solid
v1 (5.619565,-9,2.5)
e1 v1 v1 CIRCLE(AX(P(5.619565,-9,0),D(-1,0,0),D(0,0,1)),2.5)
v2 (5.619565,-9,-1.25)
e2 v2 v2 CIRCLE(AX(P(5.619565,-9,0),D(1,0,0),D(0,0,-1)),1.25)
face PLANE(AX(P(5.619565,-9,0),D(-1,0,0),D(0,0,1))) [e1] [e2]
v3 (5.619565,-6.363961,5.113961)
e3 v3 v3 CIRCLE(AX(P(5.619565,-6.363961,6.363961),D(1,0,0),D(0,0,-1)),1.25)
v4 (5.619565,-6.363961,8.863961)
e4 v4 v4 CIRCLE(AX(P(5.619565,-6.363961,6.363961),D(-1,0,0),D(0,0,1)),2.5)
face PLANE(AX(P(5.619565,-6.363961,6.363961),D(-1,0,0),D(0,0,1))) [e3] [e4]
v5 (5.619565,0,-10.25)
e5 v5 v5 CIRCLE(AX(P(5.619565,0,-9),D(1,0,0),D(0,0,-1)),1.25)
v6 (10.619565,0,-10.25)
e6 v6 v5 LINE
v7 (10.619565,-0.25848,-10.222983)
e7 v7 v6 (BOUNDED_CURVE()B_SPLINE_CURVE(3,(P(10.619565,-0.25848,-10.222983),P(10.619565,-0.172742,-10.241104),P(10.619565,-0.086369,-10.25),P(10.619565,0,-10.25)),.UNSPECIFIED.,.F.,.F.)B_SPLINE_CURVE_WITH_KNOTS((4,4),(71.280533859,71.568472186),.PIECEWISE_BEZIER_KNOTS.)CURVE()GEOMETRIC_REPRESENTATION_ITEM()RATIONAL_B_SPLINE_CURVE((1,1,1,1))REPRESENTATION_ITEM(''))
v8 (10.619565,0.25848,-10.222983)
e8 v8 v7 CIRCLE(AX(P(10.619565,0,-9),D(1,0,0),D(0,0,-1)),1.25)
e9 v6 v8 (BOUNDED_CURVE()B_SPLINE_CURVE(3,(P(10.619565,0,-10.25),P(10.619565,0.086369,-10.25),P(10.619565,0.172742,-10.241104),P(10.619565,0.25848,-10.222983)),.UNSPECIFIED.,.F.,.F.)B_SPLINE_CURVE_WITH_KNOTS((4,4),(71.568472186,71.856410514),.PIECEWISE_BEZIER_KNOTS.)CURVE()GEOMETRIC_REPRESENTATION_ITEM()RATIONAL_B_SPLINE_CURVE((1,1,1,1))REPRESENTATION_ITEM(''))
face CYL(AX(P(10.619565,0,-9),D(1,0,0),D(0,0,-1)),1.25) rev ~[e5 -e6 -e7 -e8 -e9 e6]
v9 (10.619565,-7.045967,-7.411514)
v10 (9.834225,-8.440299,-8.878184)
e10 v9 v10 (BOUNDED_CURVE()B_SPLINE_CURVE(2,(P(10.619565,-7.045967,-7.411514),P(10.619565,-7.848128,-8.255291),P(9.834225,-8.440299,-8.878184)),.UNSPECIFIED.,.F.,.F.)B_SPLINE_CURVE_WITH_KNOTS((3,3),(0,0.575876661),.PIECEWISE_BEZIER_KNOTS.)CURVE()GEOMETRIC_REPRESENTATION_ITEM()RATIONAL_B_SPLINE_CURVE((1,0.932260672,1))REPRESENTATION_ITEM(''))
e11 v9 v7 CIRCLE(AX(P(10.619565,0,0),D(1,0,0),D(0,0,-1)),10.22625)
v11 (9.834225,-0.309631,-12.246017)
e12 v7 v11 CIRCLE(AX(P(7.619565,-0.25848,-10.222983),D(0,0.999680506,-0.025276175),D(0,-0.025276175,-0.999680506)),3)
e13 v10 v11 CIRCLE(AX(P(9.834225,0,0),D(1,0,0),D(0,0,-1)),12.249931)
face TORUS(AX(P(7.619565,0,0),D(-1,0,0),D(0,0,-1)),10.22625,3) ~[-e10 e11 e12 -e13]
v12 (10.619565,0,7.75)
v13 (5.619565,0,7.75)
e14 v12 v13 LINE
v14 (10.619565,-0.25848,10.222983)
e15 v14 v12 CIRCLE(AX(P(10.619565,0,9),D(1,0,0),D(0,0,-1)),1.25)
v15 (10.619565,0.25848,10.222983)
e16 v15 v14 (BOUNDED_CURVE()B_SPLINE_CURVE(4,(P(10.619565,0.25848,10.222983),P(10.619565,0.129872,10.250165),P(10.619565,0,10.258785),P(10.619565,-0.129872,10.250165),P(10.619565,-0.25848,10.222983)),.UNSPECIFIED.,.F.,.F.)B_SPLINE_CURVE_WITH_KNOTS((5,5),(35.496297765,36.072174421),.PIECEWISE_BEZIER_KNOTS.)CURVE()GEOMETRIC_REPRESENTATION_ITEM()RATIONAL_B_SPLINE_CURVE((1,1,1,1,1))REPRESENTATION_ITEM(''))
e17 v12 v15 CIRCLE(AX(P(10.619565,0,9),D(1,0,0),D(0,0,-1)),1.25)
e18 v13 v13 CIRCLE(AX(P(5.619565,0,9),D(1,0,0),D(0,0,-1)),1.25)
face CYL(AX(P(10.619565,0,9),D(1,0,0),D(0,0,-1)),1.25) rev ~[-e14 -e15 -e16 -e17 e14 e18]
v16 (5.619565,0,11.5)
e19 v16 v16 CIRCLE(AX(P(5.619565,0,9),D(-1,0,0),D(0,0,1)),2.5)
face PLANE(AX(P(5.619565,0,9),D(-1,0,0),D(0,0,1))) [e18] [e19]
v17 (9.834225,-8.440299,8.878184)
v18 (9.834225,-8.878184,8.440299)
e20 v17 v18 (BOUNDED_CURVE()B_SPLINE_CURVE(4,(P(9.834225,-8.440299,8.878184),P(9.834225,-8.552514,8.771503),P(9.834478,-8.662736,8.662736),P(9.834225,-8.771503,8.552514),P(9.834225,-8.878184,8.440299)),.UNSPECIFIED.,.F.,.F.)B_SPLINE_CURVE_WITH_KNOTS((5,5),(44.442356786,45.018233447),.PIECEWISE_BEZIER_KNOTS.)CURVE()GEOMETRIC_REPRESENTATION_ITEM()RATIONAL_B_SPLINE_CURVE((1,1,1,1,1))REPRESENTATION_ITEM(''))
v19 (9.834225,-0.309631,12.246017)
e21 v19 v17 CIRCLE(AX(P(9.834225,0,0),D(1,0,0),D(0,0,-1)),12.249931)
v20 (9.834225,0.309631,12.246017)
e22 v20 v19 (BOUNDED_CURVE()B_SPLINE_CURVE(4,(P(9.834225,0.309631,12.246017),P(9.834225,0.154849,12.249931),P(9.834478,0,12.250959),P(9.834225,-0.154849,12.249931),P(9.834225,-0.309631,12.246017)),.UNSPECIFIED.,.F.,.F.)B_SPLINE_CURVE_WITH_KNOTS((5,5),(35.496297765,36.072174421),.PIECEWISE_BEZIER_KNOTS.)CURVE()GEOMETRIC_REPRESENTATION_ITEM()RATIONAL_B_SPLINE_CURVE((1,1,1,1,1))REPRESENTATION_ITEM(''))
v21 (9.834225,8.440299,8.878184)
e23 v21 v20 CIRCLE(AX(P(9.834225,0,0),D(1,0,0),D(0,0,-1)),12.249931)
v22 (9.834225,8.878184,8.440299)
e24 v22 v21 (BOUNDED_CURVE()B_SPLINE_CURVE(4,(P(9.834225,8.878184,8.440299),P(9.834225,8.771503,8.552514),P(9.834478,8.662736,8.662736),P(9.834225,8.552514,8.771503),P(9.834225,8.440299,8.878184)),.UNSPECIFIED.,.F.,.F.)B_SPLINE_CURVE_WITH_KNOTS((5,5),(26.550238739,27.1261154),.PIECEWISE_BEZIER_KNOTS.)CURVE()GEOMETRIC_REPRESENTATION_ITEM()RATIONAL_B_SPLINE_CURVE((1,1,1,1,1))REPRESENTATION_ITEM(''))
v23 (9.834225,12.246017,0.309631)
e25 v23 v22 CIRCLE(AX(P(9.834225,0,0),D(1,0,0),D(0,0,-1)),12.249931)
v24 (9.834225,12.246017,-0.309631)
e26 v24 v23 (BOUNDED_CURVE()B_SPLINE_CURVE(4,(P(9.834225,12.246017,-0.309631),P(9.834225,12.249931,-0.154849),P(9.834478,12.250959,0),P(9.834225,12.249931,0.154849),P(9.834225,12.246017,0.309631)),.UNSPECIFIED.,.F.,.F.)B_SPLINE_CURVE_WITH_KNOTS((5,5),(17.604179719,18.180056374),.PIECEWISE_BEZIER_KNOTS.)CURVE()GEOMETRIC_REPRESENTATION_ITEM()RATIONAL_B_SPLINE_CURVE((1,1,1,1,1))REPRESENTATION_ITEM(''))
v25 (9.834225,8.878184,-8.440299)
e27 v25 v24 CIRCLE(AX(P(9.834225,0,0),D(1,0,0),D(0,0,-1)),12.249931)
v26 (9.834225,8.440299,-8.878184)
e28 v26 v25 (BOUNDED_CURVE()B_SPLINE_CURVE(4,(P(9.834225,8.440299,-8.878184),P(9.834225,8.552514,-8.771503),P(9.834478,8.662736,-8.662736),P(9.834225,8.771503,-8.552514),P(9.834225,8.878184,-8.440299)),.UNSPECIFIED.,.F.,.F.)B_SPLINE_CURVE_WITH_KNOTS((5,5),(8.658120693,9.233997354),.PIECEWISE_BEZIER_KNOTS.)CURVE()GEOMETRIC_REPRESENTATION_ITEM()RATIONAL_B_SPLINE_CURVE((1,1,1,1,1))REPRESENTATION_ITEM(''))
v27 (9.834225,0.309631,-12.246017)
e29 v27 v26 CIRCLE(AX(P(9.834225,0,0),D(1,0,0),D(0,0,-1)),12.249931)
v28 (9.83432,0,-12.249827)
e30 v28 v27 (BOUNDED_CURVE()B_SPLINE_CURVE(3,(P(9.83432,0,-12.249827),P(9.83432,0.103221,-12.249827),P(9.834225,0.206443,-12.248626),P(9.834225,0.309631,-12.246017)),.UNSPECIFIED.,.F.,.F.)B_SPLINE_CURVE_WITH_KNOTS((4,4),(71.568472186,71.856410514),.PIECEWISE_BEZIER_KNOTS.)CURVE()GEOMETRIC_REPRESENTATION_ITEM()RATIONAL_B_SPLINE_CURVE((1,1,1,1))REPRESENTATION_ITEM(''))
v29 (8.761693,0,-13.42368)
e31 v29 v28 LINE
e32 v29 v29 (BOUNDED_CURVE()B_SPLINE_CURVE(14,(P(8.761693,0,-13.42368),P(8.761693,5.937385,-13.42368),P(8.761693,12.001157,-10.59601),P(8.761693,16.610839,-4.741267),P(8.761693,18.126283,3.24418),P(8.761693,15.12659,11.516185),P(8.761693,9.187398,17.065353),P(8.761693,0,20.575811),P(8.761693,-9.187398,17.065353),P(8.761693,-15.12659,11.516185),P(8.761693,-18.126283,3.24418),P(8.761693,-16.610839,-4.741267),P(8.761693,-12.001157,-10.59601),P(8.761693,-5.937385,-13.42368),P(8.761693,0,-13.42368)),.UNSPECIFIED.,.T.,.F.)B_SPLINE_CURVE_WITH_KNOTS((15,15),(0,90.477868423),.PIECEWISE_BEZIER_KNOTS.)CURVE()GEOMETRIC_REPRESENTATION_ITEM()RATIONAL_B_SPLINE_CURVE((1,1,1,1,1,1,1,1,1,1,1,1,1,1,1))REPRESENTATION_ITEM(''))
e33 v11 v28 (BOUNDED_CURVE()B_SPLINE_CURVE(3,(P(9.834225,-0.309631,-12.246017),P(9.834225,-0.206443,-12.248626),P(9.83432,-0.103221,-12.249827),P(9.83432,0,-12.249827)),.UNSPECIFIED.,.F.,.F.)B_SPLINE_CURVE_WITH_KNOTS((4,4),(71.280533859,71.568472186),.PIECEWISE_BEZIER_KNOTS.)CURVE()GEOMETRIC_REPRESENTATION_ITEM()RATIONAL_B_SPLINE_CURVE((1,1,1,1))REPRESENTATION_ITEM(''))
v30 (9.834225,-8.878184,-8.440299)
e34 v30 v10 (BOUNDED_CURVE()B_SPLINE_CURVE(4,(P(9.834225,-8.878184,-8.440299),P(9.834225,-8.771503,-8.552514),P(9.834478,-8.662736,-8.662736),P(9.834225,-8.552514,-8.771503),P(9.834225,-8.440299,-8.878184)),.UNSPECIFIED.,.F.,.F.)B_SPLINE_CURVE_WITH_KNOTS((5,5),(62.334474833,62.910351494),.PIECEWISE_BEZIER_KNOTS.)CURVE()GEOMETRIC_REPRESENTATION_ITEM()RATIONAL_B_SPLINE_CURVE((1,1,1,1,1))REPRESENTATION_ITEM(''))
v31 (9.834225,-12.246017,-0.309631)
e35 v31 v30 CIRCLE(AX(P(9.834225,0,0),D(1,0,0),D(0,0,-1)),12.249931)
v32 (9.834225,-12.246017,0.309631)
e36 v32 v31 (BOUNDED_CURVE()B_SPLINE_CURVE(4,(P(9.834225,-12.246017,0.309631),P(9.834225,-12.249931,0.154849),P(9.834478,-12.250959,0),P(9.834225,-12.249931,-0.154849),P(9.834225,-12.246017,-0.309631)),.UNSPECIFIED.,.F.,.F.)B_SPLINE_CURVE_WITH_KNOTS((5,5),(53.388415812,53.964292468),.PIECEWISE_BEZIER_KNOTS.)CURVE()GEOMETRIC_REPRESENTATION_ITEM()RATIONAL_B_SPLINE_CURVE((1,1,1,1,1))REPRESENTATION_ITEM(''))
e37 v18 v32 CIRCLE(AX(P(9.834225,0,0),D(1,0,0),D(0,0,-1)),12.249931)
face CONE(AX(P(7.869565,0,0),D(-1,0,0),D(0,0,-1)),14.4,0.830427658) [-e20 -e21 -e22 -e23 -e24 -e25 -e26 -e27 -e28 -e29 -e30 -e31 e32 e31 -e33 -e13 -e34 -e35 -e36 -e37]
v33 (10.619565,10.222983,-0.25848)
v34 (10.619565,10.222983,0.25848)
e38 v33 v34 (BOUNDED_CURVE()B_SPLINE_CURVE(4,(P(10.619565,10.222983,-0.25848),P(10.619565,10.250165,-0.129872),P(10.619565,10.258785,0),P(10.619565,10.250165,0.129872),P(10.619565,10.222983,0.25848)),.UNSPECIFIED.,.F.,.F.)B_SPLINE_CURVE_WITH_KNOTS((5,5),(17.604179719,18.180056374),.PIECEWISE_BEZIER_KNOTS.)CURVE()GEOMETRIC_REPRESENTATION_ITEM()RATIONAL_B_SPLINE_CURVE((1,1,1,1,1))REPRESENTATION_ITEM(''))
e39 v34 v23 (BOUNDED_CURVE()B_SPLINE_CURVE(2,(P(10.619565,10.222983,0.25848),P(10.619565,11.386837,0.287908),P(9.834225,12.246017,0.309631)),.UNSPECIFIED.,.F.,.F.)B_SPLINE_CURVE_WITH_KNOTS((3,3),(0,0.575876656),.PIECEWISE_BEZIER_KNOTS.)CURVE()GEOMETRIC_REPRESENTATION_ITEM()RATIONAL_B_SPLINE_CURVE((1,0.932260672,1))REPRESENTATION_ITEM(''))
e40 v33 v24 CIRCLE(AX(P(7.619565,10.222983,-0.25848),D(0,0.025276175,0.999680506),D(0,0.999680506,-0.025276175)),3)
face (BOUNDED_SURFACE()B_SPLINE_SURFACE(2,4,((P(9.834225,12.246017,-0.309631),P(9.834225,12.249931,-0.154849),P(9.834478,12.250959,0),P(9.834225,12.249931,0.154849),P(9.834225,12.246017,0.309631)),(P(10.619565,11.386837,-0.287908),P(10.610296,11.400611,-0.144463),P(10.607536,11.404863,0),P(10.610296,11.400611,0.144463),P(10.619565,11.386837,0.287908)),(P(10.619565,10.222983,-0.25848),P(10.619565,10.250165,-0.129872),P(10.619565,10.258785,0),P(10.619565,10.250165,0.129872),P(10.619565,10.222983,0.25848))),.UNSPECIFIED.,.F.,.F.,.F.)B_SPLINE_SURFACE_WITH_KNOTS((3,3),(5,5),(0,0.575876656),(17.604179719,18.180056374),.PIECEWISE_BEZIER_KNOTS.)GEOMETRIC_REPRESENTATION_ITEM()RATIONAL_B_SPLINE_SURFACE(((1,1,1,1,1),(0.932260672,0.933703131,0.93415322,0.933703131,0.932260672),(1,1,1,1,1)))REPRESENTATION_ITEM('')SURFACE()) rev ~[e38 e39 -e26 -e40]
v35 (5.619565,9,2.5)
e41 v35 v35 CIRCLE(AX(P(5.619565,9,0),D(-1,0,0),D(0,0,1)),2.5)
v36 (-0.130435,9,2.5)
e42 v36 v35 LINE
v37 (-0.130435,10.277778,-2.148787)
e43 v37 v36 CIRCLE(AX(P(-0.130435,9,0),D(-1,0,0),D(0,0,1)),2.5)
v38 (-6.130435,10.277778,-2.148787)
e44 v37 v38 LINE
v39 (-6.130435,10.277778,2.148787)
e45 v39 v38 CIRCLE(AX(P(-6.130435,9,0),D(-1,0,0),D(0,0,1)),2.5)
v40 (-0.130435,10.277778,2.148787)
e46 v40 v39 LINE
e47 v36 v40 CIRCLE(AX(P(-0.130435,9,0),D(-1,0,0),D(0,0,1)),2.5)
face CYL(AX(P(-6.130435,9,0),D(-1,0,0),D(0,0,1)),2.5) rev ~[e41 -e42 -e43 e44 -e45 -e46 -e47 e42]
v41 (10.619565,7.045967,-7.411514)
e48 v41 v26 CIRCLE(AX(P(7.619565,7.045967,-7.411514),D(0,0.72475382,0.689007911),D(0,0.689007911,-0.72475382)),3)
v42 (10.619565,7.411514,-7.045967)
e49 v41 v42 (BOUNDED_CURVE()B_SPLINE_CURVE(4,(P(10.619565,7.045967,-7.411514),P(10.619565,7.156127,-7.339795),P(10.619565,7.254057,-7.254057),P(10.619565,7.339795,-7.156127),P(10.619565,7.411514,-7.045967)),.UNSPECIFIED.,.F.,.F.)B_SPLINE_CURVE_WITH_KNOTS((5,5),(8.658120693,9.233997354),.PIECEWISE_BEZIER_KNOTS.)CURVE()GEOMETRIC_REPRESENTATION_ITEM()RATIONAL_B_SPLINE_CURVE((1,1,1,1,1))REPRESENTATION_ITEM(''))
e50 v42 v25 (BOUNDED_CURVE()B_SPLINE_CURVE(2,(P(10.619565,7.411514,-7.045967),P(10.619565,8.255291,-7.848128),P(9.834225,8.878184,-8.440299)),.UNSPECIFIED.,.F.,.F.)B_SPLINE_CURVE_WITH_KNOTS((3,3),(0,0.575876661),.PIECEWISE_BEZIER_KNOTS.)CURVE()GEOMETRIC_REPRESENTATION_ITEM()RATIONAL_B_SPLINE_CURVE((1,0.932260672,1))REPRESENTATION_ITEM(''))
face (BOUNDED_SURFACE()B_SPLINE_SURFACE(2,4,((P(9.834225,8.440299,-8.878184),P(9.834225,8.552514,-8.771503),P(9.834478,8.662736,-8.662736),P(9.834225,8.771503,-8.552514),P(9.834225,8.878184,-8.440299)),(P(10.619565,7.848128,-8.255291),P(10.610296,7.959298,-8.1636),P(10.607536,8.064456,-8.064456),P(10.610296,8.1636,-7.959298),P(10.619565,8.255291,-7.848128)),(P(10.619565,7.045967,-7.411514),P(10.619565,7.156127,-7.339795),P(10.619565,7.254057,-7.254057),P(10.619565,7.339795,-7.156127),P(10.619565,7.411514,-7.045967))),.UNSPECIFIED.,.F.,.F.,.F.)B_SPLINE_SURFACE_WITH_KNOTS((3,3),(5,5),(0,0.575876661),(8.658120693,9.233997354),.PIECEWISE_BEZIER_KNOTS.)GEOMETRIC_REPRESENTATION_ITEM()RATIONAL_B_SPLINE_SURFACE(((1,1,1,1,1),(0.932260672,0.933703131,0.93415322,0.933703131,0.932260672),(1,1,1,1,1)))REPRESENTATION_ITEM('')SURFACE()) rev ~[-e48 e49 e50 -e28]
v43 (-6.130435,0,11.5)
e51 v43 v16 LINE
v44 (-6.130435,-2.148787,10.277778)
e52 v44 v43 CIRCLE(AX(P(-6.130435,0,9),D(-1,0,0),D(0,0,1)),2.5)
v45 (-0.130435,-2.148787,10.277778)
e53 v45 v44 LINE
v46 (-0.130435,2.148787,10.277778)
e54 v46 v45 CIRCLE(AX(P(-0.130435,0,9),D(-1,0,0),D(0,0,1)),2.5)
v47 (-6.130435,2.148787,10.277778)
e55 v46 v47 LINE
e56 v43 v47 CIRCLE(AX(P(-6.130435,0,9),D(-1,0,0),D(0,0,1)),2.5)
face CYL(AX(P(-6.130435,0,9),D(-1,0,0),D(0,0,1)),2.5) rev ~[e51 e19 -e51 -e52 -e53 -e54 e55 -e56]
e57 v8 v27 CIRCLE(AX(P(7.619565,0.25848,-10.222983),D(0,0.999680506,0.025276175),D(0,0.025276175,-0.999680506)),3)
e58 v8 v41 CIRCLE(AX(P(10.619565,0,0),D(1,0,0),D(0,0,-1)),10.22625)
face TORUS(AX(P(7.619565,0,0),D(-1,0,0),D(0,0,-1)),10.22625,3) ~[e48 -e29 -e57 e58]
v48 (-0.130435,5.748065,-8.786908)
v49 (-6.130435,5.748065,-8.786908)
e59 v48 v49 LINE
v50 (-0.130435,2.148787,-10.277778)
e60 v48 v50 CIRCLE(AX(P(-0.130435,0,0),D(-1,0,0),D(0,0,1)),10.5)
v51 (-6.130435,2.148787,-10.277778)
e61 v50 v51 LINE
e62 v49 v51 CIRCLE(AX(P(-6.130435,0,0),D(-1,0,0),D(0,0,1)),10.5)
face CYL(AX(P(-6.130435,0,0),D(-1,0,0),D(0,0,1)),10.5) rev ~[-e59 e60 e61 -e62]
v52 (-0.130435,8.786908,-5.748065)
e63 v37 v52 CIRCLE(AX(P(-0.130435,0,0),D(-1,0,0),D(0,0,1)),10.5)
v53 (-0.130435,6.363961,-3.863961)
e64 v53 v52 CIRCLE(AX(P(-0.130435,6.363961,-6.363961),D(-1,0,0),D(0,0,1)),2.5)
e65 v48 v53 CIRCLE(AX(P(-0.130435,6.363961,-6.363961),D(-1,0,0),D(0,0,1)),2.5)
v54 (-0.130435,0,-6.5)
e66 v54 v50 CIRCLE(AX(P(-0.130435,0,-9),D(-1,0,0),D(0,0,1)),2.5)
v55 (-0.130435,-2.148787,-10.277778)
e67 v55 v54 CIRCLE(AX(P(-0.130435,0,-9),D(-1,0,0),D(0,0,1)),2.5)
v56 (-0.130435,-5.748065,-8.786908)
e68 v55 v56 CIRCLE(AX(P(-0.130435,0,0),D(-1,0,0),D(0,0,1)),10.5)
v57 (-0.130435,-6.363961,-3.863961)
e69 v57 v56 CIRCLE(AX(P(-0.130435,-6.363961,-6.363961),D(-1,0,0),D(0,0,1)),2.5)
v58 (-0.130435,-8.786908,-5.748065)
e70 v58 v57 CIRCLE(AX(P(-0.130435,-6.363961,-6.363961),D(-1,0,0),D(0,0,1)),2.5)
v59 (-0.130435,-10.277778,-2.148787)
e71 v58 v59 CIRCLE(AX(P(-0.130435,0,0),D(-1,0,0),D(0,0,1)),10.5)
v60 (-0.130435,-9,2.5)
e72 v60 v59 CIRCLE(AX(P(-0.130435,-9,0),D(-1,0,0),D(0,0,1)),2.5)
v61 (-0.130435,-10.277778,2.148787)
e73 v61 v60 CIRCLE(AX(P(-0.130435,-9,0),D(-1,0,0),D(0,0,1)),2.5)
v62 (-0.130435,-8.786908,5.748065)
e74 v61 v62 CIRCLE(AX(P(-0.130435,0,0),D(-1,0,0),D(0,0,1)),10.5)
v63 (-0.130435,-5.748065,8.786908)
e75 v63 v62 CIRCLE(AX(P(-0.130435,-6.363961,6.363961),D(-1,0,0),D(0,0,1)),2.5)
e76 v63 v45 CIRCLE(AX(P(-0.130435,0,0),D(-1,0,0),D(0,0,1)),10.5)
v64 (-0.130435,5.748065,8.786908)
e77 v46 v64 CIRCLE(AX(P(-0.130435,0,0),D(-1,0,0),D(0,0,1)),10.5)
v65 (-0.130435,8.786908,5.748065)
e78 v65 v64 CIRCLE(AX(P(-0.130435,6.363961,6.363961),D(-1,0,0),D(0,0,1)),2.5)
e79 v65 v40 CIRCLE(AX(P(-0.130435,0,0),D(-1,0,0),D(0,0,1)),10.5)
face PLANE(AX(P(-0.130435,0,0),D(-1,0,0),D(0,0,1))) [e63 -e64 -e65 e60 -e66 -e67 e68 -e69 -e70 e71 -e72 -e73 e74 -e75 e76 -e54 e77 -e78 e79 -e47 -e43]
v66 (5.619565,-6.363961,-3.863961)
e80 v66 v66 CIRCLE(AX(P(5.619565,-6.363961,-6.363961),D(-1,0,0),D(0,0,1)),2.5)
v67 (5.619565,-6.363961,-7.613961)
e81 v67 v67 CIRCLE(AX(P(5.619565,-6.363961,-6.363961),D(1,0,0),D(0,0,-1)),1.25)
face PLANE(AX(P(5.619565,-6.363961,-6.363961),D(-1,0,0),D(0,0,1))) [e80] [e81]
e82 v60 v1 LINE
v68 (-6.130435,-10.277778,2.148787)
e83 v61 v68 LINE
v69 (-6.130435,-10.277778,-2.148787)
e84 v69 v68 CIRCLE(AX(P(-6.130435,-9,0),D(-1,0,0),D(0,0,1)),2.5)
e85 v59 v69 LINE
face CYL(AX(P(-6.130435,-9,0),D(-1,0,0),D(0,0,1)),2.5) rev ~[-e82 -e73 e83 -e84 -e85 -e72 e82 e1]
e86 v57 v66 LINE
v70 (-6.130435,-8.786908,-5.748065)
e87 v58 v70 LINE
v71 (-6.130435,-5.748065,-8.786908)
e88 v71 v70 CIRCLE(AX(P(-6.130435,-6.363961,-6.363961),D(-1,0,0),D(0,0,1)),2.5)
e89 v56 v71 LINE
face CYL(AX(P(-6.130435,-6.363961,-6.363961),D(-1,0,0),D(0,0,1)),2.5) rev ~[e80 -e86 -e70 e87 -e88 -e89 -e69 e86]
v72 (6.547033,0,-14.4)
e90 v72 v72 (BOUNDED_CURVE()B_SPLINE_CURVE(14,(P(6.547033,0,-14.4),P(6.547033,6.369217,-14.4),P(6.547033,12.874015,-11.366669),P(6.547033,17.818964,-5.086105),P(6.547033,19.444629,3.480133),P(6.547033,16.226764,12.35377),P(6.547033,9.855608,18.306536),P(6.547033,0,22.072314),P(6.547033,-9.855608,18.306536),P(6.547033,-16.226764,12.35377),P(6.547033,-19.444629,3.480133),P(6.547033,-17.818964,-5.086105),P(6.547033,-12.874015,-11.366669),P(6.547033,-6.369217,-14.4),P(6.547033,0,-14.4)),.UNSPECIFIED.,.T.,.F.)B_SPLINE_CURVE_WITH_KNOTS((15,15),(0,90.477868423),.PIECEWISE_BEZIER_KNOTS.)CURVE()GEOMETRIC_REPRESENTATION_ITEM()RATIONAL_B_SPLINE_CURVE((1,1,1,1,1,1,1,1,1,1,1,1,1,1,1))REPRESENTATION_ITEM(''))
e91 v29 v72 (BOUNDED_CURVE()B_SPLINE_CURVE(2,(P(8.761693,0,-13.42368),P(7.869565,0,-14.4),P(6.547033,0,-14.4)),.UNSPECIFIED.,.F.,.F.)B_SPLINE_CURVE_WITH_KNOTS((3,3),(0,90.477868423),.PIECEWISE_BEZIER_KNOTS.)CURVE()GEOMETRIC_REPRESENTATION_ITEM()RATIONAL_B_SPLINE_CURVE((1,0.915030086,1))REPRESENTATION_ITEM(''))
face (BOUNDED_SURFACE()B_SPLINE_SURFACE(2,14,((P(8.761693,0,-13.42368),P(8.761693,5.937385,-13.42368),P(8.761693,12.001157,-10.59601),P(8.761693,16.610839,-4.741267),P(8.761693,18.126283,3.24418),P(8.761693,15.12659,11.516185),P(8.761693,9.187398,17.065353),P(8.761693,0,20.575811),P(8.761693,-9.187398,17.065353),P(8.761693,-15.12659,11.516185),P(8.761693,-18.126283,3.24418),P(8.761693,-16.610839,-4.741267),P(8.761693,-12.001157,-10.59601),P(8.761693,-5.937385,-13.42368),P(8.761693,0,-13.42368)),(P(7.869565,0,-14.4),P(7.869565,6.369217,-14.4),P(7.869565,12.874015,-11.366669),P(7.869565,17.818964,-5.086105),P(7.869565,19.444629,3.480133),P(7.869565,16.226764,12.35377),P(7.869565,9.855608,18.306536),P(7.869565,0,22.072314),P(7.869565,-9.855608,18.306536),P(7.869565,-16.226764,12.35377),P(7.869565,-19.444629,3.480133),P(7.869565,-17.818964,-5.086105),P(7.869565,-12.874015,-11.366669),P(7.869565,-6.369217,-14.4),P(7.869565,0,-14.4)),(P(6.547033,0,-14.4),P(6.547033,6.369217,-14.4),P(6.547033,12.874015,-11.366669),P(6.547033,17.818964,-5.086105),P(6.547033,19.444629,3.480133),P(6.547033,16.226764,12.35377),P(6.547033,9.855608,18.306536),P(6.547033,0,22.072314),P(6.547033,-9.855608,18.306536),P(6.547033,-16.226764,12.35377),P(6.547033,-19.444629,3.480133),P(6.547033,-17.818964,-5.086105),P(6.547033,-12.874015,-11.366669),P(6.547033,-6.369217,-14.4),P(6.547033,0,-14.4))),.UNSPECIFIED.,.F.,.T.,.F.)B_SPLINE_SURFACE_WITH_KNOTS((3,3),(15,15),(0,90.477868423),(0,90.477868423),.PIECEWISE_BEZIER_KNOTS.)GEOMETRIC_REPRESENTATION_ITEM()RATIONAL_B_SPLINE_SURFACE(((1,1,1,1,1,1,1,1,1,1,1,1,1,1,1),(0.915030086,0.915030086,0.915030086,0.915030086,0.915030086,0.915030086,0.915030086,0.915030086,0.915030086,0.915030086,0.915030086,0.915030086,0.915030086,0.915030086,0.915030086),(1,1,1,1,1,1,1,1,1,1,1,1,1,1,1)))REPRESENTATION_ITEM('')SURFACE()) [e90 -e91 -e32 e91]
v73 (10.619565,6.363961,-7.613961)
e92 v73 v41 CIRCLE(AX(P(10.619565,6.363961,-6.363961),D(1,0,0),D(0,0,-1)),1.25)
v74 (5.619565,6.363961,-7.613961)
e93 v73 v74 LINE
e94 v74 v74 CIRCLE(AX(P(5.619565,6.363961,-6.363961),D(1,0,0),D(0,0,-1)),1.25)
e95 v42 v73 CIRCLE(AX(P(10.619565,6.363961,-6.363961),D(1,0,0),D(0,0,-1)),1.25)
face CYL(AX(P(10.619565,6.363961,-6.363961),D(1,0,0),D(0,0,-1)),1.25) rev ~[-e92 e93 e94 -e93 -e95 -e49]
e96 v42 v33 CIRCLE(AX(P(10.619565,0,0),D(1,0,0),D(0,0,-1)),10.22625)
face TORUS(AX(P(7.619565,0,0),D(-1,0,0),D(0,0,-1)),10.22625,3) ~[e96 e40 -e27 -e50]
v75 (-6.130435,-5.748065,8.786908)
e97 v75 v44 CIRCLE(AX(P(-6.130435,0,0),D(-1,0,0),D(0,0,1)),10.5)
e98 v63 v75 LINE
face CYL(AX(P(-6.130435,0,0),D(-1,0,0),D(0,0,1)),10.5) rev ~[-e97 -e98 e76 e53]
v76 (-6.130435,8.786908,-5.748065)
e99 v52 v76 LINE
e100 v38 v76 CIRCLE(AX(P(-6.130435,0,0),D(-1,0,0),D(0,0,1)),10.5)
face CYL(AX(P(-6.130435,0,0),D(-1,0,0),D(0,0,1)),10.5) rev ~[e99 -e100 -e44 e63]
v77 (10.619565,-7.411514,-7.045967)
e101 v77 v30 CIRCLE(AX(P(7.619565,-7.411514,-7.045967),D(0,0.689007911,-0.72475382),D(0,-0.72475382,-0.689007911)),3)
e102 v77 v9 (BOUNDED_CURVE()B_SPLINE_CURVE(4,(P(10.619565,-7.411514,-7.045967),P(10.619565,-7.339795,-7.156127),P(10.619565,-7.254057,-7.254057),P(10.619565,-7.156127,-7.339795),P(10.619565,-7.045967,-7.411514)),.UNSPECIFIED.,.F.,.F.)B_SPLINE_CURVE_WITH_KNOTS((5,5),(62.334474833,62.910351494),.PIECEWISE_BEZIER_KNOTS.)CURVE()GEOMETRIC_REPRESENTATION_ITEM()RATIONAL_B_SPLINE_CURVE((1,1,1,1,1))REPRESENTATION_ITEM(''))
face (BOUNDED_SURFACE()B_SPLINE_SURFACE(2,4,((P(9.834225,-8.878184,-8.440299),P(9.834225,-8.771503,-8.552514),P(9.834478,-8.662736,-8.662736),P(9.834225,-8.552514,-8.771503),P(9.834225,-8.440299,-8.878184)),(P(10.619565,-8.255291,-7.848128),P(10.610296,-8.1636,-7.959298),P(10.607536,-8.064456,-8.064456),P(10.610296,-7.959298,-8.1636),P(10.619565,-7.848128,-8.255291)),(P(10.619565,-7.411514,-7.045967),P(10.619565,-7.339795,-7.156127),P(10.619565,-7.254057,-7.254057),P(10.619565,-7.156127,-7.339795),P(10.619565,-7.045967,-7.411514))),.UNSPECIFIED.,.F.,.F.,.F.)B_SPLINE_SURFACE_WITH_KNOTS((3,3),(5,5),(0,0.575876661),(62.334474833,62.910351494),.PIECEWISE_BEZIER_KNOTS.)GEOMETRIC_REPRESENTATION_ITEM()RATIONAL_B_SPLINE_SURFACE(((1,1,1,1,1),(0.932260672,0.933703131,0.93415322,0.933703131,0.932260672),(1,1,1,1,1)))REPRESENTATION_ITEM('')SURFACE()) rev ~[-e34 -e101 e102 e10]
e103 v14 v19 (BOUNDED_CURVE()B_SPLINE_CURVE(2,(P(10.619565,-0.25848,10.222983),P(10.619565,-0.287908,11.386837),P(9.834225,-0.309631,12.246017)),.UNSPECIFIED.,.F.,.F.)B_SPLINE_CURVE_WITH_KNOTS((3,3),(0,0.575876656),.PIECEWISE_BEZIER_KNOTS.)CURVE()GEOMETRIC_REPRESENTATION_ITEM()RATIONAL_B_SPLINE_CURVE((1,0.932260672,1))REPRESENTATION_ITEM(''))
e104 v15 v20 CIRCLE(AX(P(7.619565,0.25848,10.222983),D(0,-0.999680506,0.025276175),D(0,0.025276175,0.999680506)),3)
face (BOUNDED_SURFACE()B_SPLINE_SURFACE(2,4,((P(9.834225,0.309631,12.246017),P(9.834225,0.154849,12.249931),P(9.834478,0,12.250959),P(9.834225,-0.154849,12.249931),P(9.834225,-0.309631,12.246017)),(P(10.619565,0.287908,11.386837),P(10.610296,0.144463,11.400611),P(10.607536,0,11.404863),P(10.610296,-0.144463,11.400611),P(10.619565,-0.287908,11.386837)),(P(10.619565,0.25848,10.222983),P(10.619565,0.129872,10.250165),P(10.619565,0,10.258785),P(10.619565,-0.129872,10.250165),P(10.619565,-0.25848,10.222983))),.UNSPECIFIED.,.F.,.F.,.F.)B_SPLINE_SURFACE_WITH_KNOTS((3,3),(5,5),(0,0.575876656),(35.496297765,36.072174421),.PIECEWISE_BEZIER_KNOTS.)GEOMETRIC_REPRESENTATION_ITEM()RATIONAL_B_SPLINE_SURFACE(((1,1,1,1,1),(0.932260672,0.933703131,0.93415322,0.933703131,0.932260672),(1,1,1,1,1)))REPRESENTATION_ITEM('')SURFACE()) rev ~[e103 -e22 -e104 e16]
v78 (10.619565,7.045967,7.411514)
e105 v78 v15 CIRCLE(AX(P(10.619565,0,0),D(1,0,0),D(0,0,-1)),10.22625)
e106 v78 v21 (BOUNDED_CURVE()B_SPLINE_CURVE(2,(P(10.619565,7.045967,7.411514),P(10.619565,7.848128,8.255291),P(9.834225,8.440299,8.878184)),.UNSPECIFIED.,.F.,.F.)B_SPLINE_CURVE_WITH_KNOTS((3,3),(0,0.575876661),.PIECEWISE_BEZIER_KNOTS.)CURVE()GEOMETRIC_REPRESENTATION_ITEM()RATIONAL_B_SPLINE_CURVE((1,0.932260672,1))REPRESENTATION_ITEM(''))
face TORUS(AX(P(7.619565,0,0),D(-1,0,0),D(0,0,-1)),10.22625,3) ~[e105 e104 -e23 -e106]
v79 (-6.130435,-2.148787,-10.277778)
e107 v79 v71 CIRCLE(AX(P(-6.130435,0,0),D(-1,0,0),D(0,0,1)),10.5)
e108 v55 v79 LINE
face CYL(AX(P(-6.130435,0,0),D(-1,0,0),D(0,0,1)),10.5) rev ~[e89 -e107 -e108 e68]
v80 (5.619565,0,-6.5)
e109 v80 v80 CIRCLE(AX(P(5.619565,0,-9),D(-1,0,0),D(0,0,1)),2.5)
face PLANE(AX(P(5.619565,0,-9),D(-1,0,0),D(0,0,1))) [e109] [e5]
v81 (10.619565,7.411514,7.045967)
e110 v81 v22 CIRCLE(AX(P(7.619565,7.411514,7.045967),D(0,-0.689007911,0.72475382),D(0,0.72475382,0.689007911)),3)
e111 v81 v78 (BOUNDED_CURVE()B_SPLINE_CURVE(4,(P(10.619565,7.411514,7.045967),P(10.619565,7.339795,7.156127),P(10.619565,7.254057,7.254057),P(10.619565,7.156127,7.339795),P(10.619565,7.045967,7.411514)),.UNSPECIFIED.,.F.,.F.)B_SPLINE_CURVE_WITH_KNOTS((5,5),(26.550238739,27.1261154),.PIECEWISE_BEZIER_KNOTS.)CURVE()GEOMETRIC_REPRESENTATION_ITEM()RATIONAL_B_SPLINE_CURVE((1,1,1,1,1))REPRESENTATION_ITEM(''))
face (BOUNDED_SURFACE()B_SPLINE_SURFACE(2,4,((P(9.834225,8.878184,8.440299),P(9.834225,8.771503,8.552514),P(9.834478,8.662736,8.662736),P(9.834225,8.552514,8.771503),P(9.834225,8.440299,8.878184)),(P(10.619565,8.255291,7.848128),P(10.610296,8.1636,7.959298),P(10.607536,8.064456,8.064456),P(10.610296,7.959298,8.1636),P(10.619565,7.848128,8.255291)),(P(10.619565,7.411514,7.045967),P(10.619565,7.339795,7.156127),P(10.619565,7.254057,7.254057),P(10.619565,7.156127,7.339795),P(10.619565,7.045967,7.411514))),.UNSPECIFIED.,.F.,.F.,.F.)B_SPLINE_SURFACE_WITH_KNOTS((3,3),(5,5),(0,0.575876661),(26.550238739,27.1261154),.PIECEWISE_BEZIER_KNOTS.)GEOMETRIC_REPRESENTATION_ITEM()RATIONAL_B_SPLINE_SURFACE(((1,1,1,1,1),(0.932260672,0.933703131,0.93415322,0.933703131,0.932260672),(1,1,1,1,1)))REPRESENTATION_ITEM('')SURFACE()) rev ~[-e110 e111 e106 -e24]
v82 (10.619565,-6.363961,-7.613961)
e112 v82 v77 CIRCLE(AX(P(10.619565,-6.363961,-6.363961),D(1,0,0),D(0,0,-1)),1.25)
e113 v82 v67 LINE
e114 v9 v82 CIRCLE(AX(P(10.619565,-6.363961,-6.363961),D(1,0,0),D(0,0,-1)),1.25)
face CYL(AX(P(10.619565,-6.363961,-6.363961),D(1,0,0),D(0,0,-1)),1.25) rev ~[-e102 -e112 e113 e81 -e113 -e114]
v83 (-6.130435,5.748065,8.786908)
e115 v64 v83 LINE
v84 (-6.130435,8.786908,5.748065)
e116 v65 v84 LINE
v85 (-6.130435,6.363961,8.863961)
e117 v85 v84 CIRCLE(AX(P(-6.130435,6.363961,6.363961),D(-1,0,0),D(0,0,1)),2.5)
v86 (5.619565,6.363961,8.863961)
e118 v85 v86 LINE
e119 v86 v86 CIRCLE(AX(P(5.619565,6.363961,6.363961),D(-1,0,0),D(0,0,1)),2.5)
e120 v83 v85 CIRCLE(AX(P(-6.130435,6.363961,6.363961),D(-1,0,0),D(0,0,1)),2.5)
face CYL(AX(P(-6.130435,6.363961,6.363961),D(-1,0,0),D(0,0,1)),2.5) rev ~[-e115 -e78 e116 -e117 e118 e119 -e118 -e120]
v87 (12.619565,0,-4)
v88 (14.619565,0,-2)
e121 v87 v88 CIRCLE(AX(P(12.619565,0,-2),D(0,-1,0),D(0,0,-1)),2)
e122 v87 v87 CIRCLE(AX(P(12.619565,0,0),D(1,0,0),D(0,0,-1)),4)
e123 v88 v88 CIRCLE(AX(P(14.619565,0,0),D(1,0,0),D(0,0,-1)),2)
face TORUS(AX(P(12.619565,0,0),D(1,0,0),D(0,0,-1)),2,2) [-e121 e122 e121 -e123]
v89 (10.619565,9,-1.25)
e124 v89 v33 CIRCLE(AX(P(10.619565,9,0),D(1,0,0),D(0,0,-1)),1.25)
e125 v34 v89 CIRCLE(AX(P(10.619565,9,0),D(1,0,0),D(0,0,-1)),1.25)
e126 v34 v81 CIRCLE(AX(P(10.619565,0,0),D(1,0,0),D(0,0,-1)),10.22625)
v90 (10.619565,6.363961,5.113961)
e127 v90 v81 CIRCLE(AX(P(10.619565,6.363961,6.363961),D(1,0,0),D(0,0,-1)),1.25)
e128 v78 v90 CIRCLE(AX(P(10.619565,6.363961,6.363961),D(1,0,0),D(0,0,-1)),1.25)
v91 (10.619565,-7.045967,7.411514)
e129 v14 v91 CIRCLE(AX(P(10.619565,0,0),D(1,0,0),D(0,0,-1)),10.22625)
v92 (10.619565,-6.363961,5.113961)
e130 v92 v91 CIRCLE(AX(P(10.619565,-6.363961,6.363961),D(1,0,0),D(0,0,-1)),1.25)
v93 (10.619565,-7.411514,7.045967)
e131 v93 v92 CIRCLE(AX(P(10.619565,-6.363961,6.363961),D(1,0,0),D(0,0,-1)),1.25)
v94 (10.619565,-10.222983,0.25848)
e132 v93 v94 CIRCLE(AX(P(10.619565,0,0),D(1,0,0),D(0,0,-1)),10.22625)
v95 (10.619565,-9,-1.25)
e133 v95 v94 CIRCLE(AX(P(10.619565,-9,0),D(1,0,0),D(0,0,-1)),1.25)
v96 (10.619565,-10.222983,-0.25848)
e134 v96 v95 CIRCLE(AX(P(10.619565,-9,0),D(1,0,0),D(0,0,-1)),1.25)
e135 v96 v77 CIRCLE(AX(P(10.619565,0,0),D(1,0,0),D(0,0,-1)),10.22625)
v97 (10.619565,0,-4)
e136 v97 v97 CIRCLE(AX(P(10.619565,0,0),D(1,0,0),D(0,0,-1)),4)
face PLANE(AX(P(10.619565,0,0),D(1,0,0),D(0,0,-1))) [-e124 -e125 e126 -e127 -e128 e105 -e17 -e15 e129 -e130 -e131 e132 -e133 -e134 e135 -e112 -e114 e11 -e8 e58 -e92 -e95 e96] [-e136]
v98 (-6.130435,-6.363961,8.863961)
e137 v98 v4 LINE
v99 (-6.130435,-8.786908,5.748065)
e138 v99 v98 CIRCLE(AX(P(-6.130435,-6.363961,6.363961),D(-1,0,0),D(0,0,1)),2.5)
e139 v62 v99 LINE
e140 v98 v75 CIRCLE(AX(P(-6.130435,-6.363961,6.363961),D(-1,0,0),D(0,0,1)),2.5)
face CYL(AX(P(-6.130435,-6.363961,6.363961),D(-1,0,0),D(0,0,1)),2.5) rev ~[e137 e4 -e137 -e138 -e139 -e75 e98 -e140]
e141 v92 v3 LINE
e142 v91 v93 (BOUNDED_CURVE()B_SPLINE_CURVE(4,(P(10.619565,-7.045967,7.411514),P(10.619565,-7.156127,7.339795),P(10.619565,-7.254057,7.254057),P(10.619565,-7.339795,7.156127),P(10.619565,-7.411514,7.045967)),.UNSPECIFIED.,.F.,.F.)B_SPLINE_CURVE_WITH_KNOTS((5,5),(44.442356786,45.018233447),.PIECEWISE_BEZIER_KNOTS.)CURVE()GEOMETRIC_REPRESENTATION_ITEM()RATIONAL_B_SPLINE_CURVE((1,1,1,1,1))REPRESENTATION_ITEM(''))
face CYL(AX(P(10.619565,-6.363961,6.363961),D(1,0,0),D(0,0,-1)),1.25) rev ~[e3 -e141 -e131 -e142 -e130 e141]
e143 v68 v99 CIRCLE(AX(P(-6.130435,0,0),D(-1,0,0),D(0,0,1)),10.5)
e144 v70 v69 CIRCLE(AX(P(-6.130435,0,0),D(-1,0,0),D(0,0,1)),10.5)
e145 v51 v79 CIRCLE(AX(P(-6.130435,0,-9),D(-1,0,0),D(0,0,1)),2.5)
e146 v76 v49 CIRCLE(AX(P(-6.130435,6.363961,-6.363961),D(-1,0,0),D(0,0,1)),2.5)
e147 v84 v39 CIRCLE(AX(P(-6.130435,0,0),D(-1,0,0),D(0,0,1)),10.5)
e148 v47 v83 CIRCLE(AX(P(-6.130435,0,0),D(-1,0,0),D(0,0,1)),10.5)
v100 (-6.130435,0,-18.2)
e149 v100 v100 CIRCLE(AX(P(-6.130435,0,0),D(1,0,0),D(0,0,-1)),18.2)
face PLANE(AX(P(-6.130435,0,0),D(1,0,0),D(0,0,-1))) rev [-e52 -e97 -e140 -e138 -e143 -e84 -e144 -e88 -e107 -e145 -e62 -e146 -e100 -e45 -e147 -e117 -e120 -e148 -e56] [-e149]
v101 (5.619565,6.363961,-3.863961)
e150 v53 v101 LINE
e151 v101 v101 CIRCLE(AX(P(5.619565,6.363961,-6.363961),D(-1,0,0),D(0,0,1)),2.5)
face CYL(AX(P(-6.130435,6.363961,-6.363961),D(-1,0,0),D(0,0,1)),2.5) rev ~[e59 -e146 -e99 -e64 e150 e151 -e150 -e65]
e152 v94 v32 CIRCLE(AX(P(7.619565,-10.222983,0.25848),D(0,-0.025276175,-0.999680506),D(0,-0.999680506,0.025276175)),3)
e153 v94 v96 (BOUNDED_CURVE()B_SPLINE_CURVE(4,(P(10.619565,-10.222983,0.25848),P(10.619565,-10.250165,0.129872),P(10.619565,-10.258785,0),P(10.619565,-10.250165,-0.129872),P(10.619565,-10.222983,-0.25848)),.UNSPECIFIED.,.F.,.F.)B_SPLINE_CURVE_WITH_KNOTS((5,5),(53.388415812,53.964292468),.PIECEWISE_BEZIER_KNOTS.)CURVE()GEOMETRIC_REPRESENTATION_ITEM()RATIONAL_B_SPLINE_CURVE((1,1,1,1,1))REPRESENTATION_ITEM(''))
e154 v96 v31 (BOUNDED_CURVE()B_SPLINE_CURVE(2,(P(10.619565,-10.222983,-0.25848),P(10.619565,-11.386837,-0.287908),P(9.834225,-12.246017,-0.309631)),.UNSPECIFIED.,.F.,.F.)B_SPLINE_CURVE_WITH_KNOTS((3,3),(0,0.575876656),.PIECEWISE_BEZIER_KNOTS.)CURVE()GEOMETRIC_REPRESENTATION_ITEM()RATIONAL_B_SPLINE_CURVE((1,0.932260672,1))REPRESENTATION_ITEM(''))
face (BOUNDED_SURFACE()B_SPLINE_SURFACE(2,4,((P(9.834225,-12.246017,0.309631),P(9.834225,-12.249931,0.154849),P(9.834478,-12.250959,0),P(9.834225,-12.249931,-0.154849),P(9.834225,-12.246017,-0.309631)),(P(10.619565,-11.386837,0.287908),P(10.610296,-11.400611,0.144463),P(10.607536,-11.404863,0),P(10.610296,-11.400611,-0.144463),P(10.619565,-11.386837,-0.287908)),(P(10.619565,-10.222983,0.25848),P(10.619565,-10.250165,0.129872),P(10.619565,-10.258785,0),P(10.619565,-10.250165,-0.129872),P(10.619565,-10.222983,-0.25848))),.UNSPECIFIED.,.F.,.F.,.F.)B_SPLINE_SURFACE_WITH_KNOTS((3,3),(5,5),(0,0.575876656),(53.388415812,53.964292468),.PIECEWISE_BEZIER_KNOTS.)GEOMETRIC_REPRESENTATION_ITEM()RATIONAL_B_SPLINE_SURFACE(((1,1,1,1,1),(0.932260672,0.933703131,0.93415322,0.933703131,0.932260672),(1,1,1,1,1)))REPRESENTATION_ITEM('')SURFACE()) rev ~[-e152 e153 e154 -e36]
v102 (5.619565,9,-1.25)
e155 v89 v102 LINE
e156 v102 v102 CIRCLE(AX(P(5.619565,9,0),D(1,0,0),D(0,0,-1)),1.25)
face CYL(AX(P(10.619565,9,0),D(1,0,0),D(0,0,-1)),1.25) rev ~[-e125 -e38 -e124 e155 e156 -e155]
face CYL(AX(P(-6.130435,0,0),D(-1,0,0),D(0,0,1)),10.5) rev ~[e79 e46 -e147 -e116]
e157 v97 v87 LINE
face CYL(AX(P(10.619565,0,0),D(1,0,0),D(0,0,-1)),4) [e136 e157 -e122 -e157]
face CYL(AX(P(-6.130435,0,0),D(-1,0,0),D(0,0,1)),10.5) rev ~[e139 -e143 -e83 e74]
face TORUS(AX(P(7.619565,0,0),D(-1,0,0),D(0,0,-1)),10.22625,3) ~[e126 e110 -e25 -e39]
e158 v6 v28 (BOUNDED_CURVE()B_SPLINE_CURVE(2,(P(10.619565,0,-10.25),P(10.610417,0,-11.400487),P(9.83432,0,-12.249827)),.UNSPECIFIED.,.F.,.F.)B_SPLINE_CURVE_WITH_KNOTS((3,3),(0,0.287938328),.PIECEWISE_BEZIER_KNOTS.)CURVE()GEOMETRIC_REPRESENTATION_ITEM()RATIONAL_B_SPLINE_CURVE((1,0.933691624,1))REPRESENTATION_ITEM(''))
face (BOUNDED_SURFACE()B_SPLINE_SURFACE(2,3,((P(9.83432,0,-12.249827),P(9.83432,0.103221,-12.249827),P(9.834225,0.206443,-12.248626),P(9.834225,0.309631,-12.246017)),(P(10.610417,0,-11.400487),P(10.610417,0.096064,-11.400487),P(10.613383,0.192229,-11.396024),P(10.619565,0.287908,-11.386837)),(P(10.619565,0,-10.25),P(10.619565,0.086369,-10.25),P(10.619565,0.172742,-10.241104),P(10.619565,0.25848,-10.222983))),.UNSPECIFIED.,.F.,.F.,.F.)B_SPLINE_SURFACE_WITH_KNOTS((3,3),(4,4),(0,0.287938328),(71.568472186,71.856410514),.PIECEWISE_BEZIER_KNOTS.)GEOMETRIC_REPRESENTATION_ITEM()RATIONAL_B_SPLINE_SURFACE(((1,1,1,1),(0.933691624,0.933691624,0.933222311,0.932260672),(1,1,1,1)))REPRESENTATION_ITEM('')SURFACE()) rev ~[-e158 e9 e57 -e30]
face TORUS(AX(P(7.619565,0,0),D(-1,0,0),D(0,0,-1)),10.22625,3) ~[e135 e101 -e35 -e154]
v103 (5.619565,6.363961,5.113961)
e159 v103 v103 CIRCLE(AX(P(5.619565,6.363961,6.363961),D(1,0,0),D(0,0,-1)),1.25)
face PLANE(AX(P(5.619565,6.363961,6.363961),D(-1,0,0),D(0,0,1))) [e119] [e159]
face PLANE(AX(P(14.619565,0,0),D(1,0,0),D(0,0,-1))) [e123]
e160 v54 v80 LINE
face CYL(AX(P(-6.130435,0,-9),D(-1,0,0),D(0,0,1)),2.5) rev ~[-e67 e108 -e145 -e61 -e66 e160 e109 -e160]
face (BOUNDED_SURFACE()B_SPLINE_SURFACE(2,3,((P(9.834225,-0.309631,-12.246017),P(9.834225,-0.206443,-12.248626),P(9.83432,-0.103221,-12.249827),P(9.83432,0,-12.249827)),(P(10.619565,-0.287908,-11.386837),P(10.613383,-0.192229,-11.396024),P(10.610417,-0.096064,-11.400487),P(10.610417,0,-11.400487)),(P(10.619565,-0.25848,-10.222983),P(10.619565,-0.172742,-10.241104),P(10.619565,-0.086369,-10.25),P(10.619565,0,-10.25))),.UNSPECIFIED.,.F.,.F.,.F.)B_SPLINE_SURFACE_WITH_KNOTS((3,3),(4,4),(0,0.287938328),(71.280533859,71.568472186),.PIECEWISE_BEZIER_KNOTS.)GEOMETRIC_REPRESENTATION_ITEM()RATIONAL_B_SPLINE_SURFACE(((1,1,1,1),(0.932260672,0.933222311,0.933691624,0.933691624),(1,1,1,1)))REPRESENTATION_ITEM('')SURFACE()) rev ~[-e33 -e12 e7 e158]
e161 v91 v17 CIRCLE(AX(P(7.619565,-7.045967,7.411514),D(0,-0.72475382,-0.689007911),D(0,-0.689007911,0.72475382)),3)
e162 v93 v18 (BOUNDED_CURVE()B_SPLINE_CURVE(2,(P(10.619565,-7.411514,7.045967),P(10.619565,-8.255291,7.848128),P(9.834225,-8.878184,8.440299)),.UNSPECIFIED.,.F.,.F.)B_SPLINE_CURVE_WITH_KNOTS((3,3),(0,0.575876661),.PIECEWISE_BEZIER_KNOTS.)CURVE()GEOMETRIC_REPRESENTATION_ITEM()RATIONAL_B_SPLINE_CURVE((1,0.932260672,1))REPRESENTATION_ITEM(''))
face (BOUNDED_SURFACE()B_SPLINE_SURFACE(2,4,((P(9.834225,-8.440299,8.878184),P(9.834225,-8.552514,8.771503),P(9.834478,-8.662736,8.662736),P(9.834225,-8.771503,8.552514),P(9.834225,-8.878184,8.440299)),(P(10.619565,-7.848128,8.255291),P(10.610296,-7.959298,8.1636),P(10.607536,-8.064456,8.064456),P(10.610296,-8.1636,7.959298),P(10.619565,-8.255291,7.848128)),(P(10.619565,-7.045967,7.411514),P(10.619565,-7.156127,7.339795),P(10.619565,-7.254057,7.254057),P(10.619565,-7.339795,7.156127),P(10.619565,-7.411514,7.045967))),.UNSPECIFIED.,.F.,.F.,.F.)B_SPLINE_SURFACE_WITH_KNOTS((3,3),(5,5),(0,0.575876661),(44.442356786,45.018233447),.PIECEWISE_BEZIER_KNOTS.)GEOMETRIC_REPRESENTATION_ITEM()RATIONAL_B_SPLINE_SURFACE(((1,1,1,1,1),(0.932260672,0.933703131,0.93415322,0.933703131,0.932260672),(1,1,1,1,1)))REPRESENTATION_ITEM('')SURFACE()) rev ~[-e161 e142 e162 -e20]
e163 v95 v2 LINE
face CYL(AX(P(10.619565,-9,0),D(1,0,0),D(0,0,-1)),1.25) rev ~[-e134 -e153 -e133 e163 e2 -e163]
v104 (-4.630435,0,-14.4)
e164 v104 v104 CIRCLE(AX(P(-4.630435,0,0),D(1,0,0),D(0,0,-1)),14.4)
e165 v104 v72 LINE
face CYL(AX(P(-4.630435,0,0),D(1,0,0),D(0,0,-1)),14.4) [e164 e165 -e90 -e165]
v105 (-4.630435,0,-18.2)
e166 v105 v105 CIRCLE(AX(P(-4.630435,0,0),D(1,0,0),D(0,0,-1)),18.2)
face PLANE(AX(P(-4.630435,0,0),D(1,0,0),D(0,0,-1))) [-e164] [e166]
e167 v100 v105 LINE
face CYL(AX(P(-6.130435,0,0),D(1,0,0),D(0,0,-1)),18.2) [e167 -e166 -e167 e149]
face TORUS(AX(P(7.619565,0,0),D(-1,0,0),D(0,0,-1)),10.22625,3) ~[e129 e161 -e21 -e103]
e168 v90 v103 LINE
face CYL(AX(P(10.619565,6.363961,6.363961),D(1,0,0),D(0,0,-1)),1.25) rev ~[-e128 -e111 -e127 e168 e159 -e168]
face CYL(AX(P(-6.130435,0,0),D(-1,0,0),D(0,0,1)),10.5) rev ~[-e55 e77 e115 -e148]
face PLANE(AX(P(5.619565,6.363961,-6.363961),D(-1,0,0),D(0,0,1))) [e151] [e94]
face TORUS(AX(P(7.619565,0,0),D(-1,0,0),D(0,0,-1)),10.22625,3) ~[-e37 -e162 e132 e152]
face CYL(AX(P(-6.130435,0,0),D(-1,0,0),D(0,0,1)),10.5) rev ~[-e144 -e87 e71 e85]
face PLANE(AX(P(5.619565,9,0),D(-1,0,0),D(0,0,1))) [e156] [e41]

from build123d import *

# Parameters (mm, degrees)
FILLET1_R          = 2
SKETCH4_R          = 10.5
CUT_EXTRUDE3_DEPTH = 6
SKETCH5_R          = 1.25
CUT_EXTRUDE4_DEPTH = 16.75
SKETCH6_R          = 2.5
CUT_EXTRUDE5_DEPTH = 11.75
FILLET2_R          = 3


with BuildPart() as part:
    # Sketch1 → Revolve1 (revolve)
    with BuildSketch(Plane(origin=(0, 0, 0), x_dir=(1, 0, 0), z_dir=(0, 1, 0))):
        Polygon((-4.630434783, 14.4), (7.869565217, 14.4), (10.619565217, 11.390476118), (10.619565217, 4), (14.619565217, 4), (14.619565217, 0), (13.372742768, 0), (-6.130434783, 0), (-6.130434783, 18.2), (-4.630434783, 18.2), align=None)
    revolve(axis=Axis((-12.391304348, 0, 0), (1, 0, 0)))

    # Fillet1
    fillet1_edges = [part.edges().sort_by_distance(p)[0] for p in [
        (14.619565217, 0, 4),
    ]]
    fillet(fillet1_edges, radius=FILLET1_R)

    # Sketch4 → Cut-Extrude3 (cut)
    with BuildSketch(Plane.ZY.offset(6.130434783)):
        Circle(SKETCH4_R)
    extrude(amount=-CUT_EXTRUDE3_DEPTH, mode=Mode.SUBTRACT)

    # Sketch5 → Cut-Extrude4 (cut)
    with BuildSketch(Plane(origin=(10.619565217, 0, 0), x_dir=(0, 0, -1), z_dir=(1, 0, 0))):
        with Locations((0, 9)):
            Circle(SKETCH5_R)
        with Locations((6.363961031, 6.363961031)):
            Circle(SKETCH5_R)
        with Locations((9, 0)):
            Circle(SKETCH5_R)
        with Locations((6.363961031, -6.363961031)):
            Circle(SKETCH5_R)
        with Locations((0, -9)):
            Circle(SKETCH5_R)
        with Locations((-6.363961031, -6.363961031)):
            Circle(SKETCH5_R)
        with Locations((-9, 0)):
            Circle(SKETCH5_R)
        with Locations((-6.363961031, 6.363961031)):
            Circle(SKETCH5_R)
    extrude(amount=-CUT_EXTRUDE4_DEPTH, mode=Mode.SUBTRACT)

    # Sketch6 → Cut-Extrude5 (cut)
    with BuildSketch(Plane.ZY.offset(6.130434783)):
        with Locations((0, 9)):
            Circle(SKETCH6_R)
        with Locations((6.363961031, 6.363961031)):
            Circle(SKETCH6_R)
        with Locations((9, 0)):
            Circle(SKETCH6_R)
        with Locations((6.363961031, -6.363961031)):
            Circle(SKETCH6_R)
        with Locations((0, -9)):
            Circle(SKETCH6_R)
        with Locations((-6.363961031, -6.363961031)):
            Circle(SKETCH6_R)
        with Locations((-9, 0)):
            Circle(SKETCH6_R)
        with Locations((-6.363961031, 6.363961031)):
            Circle(SKETCH6_R)
    extrude(amount=-CUT_EXTRUDE5_DEPTH, mode=Mode.SUBTRACT)

    # Fillet2
    fillet2_edges = [part.edges().sort_by_distance(p)[0] for p in [
        (7.869565217, 0, 14.4),
        (10.619565217, 0, 11.390476118),
    ]]
    fillet(fillet2_edges, radius=FILLET2_R)


solid = part.part
